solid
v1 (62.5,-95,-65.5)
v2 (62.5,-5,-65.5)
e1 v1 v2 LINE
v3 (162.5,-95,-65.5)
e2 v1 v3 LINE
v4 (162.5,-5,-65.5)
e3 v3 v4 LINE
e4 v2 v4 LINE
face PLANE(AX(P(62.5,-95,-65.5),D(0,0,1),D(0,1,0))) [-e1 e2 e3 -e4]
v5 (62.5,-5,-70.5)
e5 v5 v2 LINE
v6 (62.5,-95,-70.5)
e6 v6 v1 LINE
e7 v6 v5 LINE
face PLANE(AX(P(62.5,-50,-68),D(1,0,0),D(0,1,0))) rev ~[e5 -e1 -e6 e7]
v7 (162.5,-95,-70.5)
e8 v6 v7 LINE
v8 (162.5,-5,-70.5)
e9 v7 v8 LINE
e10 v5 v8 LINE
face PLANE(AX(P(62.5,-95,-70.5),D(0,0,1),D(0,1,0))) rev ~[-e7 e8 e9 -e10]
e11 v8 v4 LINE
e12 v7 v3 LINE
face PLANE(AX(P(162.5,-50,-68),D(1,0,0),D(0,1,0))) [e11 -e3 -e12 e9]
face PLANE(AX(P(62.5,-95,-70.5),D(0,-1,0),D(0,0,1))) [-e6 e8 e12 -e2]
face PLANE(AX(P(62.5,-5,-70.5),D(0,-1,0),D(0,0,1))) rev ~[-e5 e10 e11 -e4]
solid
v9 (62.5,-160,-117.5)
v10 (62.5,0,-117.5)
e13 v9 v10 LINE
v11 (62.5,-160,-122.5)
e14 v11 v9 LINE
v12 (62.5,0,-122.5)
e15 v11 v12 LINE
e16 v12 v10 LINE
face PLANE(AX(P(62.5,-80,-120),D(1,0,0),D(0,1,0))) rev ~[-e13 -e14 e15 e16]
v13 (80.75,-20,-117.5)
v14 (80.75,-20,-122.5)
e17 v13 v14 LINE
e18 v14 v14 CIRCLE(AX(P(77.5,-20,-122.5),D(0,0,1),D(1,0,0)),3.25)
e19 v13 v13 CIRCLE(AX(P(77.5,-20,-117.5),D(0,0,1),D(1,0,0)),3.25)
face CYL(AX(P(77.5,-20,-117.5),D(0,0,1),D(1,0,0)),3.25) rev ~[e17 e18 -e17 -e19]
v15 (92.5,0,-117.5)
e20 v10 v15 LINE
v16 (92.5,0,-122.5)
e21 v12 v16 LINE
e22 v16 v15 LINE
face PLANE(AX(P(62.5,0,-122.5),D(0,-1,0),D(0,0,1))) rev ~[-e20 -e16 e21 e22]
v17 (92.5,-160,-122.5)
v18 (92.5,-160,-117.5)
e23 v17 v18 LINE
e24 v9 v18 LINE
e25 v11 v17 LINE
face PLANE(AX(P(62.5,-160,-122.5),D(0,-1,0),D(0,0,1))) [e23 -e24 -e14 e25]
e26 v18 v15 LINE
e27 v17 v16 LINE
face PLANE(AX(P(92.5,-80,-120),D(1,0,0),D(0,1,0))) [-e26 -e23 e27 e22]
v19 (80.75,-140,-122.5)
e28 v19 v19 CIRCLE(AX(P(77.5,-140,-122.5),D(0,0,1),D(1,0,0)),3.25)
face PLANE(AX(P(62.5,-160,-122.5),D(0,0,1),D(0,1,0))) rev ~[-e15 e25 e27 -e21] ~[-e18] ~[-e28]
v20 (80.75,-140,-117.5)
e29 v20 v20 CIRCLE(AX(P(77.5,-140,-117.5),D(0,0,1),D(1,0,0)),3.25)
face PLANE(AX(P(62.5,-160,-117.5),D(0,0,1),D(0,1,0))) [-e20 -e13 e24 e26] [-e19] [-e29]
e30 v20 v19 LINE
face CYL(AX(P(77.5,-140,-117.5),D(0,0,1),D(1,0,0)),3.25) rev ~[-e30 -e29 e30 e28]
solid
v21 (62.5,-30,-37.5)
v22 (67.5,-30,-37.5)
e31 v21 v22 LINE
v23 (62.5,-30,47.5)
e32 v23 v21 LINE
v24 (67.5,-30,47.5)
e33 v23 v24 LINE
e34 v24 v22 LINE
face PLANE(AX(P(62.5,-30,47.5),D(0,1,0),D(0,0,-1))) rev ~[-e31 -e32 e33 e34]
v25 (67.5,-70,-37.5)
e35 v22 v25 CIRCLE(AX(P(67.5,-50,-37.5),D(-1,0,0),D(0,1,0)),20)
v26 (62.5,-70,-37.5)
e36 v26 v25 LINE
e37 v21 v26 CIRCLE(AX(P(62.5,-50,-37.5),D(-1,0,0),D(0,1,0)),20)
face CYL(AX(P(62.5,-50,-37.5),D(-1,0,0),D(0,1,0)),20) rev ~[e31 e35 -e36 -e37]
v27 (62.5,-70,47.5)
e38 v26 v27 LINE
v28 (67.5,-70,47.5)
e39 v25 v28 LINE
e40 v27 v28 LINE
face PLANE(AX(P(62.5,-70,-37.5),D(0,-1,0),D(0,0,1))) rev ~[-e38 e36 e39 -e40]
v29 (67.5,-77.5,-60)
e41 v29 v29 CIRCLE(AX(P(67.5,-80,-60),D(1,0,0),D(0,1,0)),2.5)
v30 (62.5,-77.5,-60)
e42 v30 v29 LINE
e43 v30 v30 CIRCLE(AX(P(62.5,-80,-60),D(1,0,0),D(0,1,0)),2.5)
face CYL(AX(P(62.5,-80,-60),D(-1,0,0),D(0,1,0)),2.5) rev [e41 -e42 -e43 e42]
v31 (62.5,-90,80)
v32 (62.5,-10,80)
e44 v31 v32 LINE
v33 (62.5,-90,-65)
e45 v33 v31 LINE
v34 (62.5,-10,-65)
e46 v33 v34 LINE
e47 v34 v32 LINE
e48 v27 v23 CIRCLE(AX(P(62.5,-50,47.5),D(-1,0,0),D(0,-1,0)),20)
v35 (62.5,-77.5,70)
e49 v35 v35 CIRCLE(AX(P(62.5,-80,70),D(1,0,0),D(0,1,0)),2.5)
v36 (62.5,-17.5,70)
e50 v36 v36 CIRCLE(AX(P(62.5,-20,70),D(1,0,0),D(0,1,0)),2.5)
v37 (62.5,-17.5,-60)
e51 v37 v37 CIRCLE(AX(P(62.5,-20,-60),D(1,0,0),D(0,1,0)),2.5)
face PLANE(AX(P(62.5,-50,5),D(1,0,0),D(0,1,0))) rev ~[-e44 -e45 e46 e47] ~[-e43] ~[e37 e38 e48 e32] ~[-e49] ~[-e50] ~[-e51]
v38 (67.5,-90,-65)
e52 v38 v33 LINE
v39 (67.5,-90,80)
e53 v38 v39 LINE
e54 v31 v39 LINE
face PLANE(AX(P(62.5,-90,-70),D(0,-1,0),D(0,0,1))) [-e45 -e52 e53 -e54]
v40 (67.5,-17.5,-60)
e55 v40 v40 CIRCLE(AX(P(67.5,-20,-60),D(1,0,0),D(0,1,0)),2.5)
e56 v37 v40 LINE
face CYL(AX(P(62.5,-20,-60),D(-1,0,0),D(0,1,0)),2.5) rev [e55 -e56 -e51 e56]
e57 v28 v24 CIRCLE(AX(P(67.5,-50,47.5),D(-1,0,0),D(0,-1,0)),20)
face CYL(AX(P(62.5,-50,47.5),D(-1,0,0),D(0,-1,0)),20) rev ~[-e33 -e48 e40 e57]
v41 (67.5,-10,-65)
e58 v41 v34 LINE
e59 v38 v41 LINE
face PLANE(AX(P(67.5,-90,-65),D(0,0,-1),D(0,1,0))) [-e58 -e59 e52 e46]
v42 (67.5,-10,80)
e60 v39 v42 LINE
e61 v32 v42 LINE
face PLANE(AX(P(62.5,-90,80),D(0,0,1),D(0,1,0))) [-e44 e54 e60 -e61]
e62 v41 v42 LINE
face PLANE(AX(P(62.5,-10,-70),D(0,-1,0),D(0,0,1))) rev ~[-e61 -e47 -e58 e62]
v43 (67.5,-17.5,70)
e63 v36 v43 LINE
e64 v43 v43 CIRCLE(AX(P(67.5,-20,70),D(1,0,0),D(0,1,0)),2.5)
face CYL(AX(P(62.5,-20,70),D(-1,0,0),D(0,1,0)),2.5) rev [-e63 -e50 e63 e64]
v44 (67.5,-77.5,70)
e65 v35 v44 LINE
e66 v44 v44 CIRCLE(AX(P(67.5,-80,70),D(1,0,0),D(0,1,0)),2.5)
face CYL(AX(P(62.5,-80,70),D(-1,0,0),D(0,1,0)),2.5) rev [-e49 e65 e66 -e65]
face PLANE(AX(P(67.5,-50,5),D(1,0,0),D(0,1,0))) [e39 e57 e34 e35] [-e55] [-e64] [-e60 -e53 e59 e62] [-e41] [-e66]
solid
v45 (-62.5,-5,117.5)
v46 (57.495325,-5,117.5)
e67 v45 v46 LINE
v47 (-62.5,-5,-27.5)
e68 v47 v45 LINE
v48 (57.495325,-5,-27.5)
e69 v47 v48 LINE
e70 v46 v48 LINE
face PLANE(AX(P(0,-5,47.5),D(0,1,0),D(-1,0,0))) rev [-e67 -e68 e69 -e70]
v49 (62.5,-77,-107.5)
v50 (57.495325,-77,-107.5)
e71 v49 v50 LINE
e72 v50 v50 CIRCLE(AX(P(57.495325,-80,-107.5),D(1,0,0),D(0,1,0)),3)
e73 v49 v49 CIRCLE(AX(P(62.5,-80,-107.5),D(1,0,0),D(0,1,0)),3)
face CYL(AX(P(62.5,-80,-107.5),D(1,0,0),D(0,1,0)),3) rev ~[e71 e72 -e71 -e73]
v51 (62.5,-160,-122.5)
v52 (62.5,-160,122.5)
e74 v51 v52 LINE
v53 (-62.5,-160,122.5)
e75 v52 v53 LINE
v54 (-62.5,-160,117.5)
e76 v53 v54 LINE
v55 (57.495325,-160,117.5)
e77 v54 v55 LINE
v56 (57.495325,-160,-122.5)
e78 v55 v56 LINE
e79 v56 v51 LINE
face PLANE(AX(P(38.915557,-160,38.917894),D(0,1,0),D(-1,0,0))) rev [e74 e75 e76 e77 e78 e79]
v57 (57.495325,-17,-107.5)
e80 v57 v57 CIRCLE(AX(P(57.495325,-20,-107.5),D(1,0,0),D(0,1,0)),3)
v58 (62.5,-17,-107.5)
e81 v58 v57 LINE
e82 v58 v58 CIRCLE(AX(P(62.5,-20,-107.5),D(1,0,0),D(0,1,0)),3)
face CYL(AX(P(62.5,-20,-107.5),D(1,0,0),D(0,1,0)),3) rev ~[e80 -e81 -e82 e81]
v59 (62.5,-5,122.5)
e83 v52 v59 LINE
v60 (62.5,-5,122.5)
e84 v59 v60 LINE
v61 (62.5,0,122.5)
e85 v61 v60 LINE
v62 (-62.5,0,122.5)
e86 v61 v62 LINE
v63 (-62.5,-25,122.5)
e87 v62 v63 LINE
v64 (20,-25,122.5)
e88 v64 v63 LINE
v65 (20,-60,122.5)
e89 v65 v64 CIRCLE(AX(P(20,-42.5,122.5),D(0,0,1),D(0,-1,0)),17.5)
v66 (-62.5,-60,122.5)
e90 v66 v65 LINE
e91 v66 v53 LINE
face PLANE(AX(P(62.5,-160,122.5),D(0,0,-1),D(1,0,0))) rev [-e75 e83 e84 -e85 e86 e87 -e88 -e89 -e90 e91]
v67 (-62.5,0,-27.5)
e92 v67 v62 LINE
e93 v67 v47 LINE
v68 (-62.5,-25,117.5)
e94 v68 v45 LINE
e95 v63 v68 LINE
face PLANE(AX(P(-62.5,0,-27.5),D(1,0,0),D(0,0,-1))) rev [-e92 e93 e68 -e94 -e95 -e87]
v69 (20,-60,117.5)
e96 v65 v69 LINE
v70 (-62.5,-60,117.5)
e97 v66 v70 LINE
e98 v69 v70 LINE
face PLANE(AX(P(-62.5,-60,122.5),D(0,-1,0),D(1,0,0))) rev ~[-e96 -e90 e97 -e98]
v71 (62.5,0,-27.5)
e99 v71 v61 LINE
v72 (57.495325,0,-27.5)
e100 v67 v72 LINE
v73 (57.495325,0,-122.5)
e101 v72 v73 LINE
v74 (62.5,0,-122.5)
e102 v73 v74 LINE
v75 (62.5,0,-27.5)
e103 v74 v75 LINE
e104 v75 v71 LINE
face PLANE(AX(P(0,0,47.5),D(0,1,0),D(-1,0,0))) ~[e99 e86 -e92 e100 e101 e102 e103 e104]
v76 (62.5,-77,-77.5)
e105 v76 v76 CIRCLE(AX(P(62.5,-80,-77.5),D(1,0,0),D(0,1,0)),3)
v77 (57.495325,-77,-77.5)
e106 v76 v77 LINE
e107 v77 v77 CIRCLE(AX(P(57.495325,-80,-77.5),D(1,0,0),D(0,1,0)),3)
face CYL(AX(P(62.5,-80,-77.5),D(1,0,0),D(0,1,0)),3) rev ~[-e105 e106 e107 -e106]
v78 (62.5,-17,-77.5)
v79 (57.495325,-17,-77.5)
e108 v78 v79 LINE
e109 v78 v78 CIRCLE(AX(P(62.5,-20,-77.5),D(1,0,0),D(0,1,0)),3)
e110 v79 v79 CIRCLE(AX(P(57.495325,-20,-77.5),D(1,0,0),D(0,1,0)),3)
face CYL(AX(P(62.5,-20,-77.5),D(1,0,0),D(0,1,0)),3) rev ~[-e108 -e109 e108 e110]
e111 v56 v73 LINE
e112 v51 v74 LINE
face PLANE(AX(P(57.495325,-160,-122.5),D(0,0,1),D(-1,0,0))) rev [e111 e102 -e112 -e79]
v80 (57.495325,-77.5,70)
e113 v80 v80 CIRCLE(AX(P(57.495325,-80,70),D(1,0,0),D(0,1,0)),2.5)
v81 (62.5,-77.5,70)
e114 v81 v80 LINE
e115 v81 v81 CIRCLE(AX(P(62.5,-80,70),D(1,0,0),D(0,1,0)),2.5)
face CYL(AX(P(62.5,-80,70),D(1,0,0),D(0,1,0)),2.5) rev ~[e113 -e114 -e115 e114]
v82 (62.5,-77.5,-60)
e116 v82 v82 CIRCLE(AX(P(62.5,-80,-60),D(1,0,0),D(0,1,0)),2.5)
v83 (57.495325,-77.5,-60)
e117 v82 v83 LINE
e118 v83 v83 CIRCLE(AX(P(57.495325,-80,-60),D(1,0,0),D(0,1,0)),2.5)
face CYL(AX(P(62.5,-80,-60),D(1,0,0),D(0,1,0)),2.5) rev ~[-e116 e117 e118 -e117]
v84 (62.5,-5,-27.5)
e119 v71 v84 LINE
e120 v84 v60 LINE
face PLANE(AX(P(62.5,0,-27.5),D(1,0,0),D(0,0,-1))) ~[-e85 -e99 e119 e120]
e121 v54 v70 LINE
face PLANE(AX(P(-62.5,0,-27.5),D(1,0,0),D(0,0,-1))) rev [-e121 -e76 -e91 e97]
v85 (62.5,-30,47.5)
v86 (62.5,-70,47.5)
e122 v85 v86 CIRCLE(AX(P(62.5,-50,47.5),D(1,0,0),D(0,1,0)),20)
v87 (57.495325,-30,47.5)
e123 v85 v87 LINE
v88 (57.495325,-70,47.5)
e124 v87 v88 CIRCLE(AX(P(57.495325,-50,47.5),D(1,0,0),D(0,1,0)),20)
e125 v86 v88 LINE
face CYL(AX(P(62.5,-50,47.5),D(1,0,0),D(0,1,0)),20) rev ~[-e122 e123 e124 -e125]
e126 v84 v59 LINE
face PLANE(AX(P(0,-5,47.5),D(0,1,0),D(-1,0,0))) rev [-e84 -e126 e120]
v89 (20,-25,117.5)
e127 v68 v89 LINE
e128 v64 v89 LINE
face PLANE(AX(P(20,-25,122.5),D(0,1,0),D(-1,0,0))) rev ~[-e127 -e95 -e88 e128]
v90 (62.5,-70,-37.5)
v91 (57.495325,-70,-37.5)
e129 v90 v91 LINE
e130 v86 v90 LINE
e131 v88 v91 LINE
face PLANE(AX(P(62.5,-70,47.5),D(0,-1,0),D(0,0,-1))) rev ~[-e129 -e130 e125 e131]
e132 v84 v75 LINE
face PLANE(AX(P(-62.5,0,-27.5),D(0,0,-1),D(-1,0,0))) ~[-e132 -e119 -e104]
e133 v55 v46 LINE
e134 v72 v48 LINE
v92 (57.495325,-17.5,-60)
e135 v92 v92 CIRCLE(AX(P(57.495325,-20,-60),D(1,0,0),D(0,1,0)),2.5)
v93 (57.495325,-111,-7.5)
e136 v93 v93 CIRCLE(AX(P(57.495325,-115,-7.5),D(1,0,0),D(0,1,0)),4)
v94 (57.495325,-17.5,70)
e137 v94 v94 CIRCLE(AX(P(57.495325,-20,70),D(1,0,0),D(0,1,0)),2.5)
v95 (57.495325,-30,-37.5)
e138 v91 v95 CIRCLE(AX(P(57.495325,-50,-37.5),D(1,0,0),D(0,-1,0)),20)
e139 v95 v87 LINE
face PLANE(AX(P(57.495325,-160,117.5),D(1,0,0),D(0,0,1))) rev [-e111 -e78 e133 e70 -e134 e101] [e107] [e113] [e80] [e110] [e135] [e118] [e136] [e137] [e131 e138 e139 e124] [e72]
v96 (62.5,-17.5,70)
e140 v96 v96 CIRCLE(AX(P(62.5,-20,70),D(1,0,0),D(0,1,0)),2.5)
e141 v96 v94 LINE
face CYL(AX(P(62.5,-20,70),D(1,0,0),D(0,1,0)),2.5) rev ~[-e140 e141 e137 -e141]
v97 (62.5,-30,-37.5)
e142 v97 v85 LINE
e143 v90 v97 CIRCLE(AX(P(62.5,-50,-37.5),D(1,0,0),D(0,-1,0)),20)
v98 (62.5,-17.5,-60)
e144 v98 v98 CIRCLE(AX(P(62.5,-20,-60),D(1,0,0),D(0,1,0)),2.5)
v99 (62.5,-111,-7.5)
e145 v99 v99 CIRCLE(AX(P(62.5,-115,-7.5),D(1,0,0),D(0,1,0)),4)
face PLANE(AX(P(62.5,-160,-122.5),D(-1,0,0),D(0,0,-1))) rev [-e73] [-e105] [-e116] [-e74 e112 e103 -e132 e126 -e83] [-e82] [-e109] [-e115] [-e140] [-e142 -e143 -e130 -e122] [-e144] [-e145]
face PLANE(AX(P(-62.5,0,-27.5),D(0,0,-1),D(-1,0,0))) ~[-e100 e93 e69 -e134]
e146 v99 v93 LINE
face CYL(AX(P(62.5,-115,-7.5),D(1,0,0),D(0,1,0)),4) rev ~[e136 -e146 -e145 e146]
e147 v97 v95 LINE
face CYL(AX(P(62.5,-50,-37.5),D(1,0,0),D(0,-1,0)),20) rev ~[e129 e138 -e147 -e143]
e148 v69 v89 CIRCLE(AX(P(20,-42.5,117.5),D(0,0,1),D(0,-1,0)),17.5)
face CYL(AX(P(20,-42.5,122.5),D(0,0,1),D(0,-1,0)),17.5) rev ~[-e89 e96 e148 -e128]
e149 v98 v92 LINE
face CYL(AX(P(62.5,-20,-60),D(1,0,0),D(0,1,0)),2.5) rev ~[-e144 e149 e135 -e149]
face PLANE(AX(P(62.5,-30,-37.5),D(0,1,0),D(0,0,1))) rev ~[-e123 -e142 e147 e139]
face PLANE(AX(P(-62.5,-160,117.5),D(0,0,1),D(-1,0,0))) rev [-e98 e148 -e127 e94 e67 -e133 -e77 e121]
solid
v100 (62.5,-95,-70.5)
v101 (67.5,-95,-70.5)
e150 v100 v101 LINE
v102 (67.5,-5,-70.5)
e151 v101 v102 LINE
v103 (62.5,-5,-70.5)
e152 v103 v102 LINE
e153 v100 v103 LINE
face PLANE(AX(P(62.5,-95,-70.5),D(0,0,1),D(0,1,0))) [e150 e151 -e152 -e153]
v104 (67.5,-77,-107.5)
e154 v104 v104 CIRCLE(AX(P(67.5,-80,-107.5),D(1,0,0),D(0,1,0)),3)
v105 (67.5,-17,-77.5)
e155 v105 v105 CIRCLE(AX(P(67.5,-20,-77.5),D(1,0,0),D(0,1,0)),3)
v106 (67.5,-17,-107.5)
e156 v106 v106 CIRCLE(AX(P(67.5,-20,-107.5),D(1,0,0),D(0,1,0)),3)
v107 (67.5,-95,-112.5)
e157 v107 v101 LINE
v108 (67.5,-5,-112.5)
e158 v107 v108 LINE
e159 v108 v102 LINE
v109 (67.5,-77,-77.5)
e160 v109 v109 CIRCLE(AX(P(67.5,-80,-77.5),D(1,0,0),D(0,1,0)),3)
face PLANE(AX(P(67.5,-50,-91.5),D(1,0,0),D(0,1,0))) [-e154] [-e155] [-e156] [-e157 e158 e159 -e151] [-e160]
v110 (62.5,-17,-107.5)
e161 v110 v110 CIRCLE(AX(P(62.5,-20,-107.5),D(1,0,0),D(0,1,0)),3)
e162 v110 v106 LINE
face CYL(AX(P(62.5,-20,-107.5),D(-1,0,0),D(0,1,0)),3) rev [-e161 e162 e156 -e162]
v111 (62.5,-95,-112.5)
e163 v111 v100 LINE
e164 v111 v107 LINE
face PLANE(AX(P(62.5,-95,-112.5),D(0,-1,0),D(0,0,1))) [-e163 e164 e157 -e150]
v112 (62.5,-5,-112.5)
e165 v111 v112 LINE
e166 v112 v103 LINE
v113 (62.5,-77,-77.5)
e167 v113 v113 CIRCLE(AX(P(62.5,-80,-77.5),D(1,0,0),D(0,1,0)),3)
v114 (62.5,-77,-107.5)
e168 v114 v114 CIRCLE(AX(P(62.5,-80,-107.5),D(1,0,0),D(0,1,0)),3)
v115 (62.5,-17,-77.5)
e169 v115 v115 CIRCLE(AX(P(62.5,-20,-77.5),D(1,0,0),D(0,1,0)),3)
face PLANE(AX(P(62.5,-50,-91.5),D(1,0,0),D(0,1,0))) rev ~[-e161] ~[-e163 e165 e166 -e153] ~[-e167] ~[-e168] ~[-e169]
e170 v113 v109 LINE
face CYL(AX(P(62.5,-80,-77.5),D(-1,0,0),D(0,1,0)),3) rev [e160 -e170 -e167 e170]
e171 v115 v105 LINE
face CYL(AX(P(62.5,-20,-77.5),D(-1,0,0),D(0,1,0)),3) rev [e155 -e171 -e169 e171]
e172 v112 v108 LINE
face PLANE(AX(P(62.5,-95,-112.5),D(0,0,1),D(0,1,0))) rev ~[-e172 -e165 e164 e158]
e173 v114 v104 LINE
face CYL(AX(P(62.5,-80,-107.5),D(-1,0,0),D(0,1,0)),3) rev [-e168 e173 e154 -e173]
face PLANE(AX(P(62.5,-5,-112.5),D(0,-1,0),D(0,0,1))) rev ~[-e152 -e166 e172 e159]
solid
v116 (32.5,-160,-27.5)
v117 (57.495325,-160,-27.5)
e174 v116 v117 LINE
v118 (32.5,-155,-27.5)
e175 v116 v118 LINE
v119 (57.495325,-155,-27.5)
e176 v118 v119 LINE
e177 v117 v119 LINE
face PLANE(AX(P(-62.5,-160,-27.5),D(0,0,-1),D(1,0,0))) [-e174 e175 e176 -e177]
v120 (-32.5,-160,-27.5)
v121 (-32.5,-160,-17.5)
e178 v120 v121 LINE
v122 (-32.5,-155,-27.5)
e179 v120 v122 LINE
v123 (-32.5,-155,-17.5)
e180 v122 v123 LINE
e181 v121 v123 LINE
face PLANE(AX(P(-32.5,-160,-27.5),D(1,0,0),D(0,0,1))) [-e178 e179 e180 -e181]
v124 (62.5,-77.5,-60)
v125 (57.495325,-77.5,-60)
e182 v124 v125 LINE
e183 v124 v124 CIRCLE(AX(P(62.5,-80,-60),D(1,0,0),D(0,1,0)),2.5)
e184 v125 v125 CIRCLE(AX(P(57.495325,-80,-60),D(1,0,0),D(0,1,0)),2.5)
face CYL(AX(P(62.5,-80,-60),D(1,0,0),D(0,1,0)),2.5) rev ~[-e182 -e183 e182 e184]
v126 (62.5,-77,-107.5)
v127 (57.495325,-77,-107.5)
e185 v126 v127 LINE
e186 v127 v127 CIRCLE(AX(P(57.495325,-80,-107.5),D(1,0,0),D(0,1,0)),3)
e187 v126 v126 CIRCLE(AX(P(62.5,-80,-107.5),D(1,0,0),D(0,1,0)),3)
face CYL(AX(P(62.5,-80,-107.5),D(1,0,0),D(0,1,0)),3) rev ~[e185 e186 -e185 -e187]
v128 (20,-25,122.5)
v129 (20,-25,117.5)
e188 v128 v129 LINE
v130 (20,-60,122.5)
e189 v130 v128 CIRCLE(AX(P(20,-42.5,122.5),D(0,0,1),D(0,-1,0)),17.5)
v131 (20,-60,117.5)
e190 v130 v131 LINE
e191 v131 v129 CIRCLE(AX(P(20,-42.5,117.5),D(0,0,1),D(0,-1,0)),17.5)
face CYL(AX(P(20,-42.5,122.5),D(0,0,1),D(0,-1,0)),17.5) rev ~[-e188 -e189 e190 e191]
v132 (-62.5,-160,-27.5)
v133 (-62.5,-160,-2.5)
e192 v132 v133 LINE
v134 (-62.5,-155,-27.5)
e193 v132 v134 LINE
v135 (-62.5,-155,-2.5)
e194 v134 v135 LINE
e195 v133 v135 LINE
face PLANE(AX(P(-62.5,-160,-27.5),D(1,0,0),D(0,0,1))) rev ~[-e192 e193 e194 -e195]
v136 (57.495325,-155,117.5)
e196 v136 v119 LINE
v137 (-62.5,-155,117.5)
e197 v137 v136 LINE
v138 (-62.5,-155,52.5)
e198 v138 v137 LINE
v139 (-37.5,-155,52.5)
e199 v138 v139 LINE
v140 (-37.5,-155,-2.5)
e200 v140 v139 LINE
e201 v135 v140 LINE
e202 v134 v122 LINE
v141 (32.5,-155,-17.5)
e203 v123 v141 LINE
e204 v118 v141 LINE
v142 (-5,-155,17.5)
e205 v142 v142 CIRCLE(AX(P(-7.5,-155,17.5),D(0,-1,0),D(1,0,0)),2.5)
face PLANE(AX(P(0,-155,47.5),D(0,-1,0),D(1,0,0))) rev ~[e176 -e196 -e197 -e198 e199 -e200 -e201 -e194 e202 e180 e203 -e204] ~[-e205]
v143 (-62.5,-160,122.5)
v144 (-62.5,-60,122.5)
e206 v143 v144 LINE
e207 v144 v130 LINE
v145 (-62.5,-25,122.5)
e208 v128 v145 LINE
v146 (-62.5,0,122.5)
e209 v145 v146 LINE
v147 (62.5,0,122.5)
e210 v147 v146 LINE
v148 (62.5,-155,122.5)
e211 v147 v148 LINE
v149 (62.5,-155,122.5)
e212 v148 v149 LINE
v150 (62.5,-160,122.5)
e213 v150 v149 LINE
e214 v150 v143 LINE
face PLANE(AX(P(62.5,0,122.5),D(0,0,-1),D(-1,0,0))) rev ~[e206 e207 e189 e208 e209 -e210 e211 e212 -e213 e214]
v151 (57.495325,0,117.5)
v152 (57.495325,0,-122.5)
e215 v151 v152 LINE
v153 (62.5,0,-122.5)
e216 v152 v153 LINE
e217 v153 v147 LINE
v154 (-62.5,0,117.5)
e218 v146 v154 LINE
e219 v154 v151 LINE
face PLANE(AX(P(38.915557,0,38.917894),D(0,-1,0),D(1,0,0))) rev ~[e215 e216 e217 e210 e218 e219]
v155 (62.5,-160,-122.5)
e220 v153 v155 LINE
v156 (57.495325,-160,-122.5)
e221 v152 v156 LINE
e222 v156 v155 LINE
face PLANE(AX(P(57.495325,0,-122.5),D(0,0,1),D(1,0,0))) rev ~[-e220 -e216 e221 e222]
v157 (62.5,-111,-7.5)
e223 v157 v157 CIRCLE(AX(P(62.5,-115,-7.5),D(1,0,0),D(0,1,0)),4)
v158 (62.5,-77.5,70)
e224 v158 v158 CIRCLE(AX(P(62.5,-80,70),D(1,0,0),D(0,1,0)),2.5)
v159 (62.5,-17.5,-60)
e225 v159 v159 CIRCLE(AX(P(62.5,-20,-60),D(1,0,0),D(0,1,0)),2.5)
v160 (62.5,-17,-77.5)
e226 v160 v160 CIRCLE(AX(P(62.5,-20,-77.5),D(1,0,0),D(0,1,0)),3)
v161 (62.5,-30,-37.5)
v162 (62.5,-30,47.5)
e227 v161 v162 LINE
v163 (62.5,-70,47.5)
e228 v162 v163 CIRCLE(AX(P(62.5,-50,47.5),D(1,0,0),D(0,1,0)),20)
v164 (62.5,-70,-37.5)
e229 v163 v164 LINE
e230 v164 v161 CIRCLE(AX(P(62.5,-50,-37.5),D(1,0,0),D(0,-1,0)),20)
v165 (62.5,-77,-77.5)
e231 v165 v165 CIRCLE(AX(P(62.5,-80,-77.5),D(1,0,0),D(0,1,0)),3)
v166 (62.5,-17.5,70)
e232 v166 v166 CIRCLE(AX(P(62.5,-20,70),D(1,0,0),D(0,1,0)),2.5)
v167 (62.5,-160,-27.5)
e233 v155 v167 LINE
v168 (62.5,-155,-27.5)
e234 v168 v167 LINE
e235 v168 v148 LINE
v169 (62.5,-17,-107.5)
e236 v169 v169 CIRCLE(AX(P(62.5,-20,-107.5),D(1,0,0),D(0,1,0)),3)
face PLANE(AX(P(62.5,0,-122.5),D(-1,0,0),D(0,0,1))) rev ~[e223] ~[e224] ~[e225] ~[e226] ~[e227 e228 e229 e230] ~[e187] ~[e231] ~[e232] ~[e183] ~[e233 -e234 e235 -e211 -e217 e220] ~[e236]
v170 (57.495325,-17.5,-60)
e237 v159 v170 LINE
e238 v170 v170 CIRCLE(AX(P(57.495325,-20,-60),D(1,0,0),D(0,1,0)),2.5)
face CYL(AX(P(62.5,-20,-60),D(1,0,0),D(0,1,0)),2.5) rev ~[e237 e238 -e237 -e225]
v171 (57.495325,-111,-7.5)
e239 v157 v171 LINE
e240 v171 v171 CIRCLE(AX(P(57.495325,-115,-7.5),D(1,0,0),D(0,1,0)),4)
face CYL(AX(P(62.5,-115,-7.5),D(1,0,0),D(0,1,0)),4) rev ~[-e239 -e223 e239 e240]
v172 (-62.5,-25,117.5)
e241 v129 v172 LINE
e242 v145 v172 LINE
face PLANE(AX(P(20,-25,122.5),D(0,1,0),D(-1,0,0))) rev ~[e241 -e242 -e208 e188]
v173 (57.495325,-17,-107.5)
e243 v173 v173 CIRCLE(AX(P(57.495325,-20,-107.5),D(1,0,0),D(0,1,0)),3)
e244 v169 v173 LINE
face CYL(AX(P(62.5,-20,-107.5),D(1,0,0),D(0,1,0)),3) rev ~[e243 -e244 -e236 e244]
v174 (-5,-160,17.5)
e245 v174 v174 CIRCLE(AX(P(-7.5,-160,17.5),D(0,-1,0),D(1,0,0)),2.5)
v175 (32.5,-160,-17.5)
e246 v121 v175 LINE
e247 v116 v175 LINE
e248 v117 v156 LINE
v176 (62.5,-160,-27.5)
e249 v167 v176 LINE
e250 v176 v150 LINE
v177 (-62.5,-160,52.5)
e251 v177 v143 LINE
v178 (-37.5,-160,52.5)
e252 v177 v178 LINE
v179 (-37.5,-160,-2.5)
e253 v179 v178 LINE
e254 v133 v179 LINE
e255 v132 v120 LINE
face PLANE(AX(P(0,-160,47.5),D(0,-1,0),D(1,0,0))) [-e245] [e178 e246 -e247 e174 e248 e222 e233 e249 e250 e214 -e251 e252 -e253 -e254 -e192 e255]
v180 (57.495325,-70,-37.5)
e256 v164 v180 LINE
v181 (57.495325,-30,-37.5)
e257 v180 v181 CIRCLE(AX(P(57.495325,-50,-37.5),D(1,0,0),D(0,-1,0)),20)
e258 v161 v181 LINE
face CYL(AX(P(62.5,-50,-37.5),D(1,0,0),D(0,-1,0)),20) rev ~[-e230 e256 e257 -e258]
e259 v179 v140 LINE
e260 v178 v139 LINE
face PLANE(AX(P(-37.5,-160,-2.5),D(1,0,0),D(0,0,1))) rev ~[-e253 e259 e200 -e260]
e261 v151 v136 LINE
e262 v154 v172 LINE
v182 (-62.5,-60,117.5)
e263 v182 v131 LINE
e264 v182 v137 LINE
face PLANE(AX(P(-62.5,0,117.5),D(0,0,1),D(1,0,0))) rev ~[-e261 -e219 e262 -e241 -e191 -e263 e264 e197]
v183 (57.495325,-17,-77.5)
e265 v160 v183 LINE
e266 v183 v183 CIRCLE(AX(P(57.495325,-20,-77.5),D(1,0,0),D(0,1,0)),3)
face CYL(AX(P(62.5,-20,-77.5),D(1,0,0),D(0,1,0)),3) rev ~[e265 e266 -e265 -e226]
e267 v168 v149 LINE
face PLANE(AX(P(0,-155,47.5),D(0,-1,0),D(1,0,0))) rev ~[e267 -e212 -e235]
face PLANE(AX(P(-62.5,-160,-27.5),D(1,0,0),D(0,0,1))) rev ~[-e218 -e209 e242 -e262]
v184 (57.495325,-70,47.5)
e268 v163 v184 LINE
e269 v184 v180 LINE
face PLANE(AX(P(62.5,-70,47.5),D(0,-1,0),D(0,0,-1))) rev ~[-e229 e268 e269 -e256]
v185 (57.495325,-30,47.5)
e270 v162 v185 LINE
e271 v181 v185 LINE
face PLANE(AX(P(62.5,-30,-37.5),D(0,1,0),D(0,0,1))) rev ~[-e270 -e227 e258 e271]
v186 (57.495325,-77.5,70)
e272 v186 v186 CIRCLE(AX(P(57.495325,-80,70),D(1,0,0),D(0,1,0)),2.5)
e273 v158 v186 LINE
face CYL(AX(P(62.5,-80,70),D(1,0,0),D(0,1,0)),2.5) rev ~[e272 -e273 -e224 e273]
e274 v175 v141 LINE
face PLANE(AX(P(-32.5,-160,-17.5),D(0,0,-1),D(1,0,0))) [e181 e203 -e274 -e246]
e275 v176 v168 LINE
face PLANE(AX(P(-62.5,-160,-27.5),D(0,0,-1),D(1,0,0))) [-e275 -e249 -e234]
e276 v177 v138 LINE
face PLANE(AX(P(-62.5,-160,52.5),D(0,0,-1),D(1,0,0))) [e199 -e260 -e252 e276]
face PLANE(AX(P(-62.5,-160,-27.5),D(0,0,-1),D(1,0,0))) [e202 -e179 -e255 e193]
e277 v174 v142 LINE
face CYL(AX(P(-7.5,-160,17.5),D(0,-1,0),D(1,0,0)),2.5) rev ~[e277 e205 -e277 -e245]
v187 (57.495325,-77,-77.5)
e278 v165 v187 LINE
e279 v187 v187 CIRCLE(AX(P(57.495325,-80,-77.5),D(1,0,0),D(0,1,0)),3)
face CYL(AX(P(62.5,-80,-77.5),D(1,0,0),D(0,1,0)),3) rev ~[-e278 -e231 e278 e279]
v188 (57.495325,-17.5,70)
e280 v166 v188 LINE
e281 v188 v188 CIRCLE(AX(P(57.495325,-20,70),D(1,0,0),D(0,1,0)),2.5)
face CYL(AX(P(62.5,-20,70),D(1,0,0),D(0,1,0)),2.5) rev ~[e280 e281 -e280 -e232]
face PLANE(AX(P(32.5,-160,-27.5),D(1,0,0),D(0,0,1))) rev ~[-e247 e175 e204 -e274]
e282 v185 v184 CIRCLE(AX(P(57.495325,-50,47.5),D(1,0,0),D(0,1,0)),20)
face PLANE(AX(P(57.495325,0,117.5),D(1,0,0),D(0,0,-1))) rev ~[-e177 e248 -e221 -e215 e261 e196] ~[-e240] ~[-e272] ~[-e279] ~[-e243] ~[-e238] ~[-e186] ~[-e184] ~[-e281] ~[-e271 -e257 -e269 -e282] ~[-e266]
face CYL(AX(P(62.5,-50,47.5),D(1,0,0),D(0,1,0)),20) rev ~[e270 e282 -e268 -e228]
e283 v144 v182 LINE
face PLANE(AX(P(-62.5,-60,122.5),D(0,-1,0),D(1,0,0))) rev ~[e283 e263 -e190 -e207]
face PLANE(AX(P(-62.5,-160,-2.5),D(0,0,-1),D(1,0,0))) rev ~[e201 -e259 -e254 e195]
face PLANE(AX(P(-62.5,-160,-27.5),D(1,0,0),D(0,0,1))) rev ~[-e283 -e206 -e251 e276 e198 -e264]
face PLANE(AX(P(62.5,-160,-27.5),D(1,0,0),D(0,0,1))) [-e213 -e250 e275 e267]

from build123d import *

# Parameters (mm, degrees)
F0_W      = 0.004675
F0_H      = 240
F0_H_2    = 5
F1_DEPTH  = 160
F2_W      = 125
F2_H      = 150
F3_DEPTH  = 5
F7_DEPTH  = 25
F8_W      = 160
F8_H      = 5
F9_DEPTH  = 30
F10_R     = 3.25
F11_DEPTH = 25
F13_DEPTH = 5.004675
F14_R     = 2.5
F15_DEPTH = 5.004675
F16_W     = 25
F16_H     = 55
F17_DEPTH = 5
F18_R     = 2.5
F18_W     = 65
F18_H     = 10
F19_DEPTH = 5
F20_R     = 4
F20_R_2   = 3
F21_DEPTH = 5.004675
F22_W     = 80
F22_H     = 150
F22_R     = 2.5
F23_DEPTH = 5
F25_W     = 80
F25_H     = 5
F26_DEPTH = 5
F24_W     = 90
F24_H     = 42
F24_R     = 3
F27_DEPTH = 5
F28_W     = 90
F28_H     = 5
F29_DEPTH = 100


with BuildPart() as f1:
    # F0 (on Front) → F1 (new body)
    with BuildSketch(Plane.XZ):
        Polygon((62.495325, 122.5), (-62.5, 122.5), (-62.5, 117.5), (57.495325, 117.5), (57.495325, -122.5), (62.495325, -122.5), (62.495325, 117.5), align=None)
        with Locations((62.497662, -2.5)):
            Rectangle(F0_W, F0_H)
        with Locations((62.497662, 120)):
            Rectangle(F0_W, F0_H_2)
    extrude(amount=F1_DEPTH)

    # F2 (on face) → F3 (join)
    with BuildSketch(Plane.XZ.offset(160)):
        with Locations((0, 47.5)):
            Rectangle(F2_W, F2_H)
    extrude(amount=-F3_DEPTH)


with BuildPart() as f5_1:
    # F5: instance of F1
    add(f1.part.mirror(Plane(origin=(1.483739, -80, 44.470582), x_dir=(1, 0, 0), z_dir=(0, -1, 0))))


with BuildPart() as f7_tool:
    # F6 (on face) → F7 (new body)
    with BuildSketch(Plane.XY.offset(122.5)):
        with BuildLine():
            Line((-62.5, -25), (-62.5, -60))
            Line((-62.5, -60), (20, -60))
            ThreePointArc((20, -60), (37.5, -42.5), (20, -25))
            Line((20, -25), (-62.5, -25))
        make_face()
    extrude(amount=-F7_DEPTH)


with BuildPart() as f1_1:
    add(f1.part)

    # F7: cut by f7_tool
    add(f7_tool.part, mode=Mode.SUBTRACT)


with BuildPart() as f5_1_1:
    add(f5_1.part)

    # F7: cut by f7_tool
    add(f7_tool.part, mode=Mode.SUBTRACT)


with BuildPart() as f9:
    # F8 (on face) → F9 (new body)
    with BuildSketch(Plane.YZ.offset(62.5)):
        with Locations((-80, -120)):
            Rectangle(F8_W, F8_H)
    extrude(amount=F9_DEPTH)

    # F10 (on face) → F11 (cut)
    with BuildSketch(Plane.XY.offset(-117.5)):
        with Locations((77.5, -140)):
            Circle(F10_R)
        with Locations((77.5, -20)):
            Circle(F10_R)
    extrude(amount=-F11_DEPTH, mode=Mode.SUBTRACT)


with BuildPart() as f13_tool:
    # F12 (on face) → F13 (new body, through all)
    with BuildSketch(Plane.YZ.offset(62.5)):
        with BuildLine():
            Line((-30, -37.5), (-30, 47.5))
            ThreePointArc((-30, 47.5), (-50, 67.5), (-70, 47.5))
            Line((-70, 47.5), (-70, -37.5))
            ThreePointArc((-70, -37.5), (-50, -57.5), (-30, -37.5))
        make_face()
    extrude(amount=-F13_DEPTH)


with BuildPart() as f1_2:
    add(f1_1.part)

    # F13: cut by f13_tool
    add(f13_tool.part, mode=Mode.SUBTRACT)


with BuildPart() as f5_1_2:
    add(f5_1_1.part)

    # F13: cut by f13_tool
    add(f13_tool.part, mode=Mode.SUBTRACT)


with BuildPart() as f15_tool:
    # F14 (on face) → F15 (new body, through all)
    with BuildSketch(Plane.YZ.offset(62.5)):
        with Locations((-80, 70)):
            Circle(F14_R)
        with Locations((-20, 70)):
            Circle(F14_R)
        with Locations((-20, -60)):
            Circle(F14_R)
        with Locations((-80, -60)):
            Circle(F14_R)
    extrude(amount=-F15_DEPTH)


with BuildPart() as f1_3:
    add(f1_2.part)

    # F15: cut by f15_tool
    add(f15_tool.part, mode=Mode.SUBTRACT)

    # F16 (on face) → F17 (cut, through all)
    with BuildSketch(Plane.XZ.offset(160)):
        with Locations((-50, 25)):
            Rectangle(F16_W, F16_H)
    extrude(amount=-F17_DEPTH, mode=Mode.SUBTRACT)

    # F18 (on face) → F19 (cut, through all)
    with BuildSketch(Plane.XZ.offset(160)):
        with Locations((-7.5, 17.5)):
            Circle(F18_R)
        with Locations((0, -22.5)):
            Rectangle(F18_W, F18_H)
    extrude(amount=-F19_DEPTH, mode=Mode.SUBTRACT)


with BuildPart() as f5_1_3:
    add(f5_1_2.part)

    # F15: cut by f15_tool
    add(f15_tool.part, mode=Mode.SUBTRACT)


with BuildPart() as f21_tool:
    # F20 (on face) → F21 (new body, through all)
    with BuildSketch(Plane.YZ.offset(62.5)):
        with Locations((-115, -7.5)):
            Circle(F20_R)
        with Locations((-80, -77.5)):
            Circle(F20_R_2)
        with Locations((-20, -77.5)):
            Circle(F20_R_2)
        with Locations((-80, -107.5)):
            Circle(F20_R_2)
        with Locations((-20, -107.5)):
            Circle(F20_R_2)
    extrude(amount=-F21_DEPTH)


with BuildPart() as f1_4:
    add(f1_3.part)

    # F21: cut by f21_tool
    add(f21_tool.part, mode=Mode.SUBTRACT)


with BuildPart() as f5_1_4:
    add(f5_1_3.part)

    # F21: cut by f21_tool
    add(f21_tool.part, mode=Mode.SUBTRACT)


with BuildPart() as f23:
    # F22 (on face) → F23 (new body)
    with BuildSketch(Plane.YZ.offset(62.5)):
        with Locations((-50, 5)):
            Rectangle(F22_W, F22_H)
        with Locations((-80, -60)):
            Circle(F22_R, mode=Mode.SUBTRACT)
        with Locations((-20, -60)):
            Circle(F22_R, mode=Mode.SUBTRACT)
        with BuildLine():
            Line((-30, 47.5), (-30, -37.5))
            ThreePointArc((-30, -37.5), (-50, -57.5), (-70, -37.5))
            Line((-70, -37.5), (-70, 47.5))
            ThreePointArc((-70, 47.5), (-50, 67.5), (-30, 47.5))
        make_face(mode=Mode.SUBTRACT)
        with Locations((-80, 70)):
            Circle(F22_R, mode=Mode.SUBTRACT)
        with Locations((-20, 70)):
            Circle(F22_R, mode=Mode.SUBTRACT)
    extrude(amount=F23_DEPTH)

    # F25 (on face) → F26 (cut, through all)
    with BuildSketch(Plane.YZ.offset(67.5)):
        with Locations((-50, -67.5)):
            Rectangle(F25_W, F25_H)
    extrude(amount=-F26_DEPTH, mode=Mode.SUBTRACT)


with BuildPart() as f27:
    # F24 (on face) → F27 (new body)
    with BuildSketch(Plane.YZ.offset(62.5)):
        with Locations((-50, -91.5)):
            Rectangle(F24_W, F24_H)
        with Locations((-80, -107.5)):
            Circle(F24_R, mode=Mode.SUBTRACT)
        with Locations((-20, -107.5)):
            Circle(F24_R, mode=Mode.SUBTRACT)
        with Locations((-80, -77.5)):
            Circle(F24_R, mode=Mode.SUBTRACT)
        with Locations((-20, -77.5)):
            Circle(F24_R, mode=Mode.SUBTRACT)
    extrude(amount=F27_DEPTH)


with BuildPart() as f29:
    # F28 (on face) → F29 (new body)
    with BuildSketch(Plane.YZ.offset(62.5)):
        with Locations((-50, -68)):
            Rectangle(F28_W, F28_H)
    extrude(amount=F29_DEPTH)


solid = Compound([f9.part, f1_4.part, f5_1_4.part, f23.part, f27.part, f29.part])
